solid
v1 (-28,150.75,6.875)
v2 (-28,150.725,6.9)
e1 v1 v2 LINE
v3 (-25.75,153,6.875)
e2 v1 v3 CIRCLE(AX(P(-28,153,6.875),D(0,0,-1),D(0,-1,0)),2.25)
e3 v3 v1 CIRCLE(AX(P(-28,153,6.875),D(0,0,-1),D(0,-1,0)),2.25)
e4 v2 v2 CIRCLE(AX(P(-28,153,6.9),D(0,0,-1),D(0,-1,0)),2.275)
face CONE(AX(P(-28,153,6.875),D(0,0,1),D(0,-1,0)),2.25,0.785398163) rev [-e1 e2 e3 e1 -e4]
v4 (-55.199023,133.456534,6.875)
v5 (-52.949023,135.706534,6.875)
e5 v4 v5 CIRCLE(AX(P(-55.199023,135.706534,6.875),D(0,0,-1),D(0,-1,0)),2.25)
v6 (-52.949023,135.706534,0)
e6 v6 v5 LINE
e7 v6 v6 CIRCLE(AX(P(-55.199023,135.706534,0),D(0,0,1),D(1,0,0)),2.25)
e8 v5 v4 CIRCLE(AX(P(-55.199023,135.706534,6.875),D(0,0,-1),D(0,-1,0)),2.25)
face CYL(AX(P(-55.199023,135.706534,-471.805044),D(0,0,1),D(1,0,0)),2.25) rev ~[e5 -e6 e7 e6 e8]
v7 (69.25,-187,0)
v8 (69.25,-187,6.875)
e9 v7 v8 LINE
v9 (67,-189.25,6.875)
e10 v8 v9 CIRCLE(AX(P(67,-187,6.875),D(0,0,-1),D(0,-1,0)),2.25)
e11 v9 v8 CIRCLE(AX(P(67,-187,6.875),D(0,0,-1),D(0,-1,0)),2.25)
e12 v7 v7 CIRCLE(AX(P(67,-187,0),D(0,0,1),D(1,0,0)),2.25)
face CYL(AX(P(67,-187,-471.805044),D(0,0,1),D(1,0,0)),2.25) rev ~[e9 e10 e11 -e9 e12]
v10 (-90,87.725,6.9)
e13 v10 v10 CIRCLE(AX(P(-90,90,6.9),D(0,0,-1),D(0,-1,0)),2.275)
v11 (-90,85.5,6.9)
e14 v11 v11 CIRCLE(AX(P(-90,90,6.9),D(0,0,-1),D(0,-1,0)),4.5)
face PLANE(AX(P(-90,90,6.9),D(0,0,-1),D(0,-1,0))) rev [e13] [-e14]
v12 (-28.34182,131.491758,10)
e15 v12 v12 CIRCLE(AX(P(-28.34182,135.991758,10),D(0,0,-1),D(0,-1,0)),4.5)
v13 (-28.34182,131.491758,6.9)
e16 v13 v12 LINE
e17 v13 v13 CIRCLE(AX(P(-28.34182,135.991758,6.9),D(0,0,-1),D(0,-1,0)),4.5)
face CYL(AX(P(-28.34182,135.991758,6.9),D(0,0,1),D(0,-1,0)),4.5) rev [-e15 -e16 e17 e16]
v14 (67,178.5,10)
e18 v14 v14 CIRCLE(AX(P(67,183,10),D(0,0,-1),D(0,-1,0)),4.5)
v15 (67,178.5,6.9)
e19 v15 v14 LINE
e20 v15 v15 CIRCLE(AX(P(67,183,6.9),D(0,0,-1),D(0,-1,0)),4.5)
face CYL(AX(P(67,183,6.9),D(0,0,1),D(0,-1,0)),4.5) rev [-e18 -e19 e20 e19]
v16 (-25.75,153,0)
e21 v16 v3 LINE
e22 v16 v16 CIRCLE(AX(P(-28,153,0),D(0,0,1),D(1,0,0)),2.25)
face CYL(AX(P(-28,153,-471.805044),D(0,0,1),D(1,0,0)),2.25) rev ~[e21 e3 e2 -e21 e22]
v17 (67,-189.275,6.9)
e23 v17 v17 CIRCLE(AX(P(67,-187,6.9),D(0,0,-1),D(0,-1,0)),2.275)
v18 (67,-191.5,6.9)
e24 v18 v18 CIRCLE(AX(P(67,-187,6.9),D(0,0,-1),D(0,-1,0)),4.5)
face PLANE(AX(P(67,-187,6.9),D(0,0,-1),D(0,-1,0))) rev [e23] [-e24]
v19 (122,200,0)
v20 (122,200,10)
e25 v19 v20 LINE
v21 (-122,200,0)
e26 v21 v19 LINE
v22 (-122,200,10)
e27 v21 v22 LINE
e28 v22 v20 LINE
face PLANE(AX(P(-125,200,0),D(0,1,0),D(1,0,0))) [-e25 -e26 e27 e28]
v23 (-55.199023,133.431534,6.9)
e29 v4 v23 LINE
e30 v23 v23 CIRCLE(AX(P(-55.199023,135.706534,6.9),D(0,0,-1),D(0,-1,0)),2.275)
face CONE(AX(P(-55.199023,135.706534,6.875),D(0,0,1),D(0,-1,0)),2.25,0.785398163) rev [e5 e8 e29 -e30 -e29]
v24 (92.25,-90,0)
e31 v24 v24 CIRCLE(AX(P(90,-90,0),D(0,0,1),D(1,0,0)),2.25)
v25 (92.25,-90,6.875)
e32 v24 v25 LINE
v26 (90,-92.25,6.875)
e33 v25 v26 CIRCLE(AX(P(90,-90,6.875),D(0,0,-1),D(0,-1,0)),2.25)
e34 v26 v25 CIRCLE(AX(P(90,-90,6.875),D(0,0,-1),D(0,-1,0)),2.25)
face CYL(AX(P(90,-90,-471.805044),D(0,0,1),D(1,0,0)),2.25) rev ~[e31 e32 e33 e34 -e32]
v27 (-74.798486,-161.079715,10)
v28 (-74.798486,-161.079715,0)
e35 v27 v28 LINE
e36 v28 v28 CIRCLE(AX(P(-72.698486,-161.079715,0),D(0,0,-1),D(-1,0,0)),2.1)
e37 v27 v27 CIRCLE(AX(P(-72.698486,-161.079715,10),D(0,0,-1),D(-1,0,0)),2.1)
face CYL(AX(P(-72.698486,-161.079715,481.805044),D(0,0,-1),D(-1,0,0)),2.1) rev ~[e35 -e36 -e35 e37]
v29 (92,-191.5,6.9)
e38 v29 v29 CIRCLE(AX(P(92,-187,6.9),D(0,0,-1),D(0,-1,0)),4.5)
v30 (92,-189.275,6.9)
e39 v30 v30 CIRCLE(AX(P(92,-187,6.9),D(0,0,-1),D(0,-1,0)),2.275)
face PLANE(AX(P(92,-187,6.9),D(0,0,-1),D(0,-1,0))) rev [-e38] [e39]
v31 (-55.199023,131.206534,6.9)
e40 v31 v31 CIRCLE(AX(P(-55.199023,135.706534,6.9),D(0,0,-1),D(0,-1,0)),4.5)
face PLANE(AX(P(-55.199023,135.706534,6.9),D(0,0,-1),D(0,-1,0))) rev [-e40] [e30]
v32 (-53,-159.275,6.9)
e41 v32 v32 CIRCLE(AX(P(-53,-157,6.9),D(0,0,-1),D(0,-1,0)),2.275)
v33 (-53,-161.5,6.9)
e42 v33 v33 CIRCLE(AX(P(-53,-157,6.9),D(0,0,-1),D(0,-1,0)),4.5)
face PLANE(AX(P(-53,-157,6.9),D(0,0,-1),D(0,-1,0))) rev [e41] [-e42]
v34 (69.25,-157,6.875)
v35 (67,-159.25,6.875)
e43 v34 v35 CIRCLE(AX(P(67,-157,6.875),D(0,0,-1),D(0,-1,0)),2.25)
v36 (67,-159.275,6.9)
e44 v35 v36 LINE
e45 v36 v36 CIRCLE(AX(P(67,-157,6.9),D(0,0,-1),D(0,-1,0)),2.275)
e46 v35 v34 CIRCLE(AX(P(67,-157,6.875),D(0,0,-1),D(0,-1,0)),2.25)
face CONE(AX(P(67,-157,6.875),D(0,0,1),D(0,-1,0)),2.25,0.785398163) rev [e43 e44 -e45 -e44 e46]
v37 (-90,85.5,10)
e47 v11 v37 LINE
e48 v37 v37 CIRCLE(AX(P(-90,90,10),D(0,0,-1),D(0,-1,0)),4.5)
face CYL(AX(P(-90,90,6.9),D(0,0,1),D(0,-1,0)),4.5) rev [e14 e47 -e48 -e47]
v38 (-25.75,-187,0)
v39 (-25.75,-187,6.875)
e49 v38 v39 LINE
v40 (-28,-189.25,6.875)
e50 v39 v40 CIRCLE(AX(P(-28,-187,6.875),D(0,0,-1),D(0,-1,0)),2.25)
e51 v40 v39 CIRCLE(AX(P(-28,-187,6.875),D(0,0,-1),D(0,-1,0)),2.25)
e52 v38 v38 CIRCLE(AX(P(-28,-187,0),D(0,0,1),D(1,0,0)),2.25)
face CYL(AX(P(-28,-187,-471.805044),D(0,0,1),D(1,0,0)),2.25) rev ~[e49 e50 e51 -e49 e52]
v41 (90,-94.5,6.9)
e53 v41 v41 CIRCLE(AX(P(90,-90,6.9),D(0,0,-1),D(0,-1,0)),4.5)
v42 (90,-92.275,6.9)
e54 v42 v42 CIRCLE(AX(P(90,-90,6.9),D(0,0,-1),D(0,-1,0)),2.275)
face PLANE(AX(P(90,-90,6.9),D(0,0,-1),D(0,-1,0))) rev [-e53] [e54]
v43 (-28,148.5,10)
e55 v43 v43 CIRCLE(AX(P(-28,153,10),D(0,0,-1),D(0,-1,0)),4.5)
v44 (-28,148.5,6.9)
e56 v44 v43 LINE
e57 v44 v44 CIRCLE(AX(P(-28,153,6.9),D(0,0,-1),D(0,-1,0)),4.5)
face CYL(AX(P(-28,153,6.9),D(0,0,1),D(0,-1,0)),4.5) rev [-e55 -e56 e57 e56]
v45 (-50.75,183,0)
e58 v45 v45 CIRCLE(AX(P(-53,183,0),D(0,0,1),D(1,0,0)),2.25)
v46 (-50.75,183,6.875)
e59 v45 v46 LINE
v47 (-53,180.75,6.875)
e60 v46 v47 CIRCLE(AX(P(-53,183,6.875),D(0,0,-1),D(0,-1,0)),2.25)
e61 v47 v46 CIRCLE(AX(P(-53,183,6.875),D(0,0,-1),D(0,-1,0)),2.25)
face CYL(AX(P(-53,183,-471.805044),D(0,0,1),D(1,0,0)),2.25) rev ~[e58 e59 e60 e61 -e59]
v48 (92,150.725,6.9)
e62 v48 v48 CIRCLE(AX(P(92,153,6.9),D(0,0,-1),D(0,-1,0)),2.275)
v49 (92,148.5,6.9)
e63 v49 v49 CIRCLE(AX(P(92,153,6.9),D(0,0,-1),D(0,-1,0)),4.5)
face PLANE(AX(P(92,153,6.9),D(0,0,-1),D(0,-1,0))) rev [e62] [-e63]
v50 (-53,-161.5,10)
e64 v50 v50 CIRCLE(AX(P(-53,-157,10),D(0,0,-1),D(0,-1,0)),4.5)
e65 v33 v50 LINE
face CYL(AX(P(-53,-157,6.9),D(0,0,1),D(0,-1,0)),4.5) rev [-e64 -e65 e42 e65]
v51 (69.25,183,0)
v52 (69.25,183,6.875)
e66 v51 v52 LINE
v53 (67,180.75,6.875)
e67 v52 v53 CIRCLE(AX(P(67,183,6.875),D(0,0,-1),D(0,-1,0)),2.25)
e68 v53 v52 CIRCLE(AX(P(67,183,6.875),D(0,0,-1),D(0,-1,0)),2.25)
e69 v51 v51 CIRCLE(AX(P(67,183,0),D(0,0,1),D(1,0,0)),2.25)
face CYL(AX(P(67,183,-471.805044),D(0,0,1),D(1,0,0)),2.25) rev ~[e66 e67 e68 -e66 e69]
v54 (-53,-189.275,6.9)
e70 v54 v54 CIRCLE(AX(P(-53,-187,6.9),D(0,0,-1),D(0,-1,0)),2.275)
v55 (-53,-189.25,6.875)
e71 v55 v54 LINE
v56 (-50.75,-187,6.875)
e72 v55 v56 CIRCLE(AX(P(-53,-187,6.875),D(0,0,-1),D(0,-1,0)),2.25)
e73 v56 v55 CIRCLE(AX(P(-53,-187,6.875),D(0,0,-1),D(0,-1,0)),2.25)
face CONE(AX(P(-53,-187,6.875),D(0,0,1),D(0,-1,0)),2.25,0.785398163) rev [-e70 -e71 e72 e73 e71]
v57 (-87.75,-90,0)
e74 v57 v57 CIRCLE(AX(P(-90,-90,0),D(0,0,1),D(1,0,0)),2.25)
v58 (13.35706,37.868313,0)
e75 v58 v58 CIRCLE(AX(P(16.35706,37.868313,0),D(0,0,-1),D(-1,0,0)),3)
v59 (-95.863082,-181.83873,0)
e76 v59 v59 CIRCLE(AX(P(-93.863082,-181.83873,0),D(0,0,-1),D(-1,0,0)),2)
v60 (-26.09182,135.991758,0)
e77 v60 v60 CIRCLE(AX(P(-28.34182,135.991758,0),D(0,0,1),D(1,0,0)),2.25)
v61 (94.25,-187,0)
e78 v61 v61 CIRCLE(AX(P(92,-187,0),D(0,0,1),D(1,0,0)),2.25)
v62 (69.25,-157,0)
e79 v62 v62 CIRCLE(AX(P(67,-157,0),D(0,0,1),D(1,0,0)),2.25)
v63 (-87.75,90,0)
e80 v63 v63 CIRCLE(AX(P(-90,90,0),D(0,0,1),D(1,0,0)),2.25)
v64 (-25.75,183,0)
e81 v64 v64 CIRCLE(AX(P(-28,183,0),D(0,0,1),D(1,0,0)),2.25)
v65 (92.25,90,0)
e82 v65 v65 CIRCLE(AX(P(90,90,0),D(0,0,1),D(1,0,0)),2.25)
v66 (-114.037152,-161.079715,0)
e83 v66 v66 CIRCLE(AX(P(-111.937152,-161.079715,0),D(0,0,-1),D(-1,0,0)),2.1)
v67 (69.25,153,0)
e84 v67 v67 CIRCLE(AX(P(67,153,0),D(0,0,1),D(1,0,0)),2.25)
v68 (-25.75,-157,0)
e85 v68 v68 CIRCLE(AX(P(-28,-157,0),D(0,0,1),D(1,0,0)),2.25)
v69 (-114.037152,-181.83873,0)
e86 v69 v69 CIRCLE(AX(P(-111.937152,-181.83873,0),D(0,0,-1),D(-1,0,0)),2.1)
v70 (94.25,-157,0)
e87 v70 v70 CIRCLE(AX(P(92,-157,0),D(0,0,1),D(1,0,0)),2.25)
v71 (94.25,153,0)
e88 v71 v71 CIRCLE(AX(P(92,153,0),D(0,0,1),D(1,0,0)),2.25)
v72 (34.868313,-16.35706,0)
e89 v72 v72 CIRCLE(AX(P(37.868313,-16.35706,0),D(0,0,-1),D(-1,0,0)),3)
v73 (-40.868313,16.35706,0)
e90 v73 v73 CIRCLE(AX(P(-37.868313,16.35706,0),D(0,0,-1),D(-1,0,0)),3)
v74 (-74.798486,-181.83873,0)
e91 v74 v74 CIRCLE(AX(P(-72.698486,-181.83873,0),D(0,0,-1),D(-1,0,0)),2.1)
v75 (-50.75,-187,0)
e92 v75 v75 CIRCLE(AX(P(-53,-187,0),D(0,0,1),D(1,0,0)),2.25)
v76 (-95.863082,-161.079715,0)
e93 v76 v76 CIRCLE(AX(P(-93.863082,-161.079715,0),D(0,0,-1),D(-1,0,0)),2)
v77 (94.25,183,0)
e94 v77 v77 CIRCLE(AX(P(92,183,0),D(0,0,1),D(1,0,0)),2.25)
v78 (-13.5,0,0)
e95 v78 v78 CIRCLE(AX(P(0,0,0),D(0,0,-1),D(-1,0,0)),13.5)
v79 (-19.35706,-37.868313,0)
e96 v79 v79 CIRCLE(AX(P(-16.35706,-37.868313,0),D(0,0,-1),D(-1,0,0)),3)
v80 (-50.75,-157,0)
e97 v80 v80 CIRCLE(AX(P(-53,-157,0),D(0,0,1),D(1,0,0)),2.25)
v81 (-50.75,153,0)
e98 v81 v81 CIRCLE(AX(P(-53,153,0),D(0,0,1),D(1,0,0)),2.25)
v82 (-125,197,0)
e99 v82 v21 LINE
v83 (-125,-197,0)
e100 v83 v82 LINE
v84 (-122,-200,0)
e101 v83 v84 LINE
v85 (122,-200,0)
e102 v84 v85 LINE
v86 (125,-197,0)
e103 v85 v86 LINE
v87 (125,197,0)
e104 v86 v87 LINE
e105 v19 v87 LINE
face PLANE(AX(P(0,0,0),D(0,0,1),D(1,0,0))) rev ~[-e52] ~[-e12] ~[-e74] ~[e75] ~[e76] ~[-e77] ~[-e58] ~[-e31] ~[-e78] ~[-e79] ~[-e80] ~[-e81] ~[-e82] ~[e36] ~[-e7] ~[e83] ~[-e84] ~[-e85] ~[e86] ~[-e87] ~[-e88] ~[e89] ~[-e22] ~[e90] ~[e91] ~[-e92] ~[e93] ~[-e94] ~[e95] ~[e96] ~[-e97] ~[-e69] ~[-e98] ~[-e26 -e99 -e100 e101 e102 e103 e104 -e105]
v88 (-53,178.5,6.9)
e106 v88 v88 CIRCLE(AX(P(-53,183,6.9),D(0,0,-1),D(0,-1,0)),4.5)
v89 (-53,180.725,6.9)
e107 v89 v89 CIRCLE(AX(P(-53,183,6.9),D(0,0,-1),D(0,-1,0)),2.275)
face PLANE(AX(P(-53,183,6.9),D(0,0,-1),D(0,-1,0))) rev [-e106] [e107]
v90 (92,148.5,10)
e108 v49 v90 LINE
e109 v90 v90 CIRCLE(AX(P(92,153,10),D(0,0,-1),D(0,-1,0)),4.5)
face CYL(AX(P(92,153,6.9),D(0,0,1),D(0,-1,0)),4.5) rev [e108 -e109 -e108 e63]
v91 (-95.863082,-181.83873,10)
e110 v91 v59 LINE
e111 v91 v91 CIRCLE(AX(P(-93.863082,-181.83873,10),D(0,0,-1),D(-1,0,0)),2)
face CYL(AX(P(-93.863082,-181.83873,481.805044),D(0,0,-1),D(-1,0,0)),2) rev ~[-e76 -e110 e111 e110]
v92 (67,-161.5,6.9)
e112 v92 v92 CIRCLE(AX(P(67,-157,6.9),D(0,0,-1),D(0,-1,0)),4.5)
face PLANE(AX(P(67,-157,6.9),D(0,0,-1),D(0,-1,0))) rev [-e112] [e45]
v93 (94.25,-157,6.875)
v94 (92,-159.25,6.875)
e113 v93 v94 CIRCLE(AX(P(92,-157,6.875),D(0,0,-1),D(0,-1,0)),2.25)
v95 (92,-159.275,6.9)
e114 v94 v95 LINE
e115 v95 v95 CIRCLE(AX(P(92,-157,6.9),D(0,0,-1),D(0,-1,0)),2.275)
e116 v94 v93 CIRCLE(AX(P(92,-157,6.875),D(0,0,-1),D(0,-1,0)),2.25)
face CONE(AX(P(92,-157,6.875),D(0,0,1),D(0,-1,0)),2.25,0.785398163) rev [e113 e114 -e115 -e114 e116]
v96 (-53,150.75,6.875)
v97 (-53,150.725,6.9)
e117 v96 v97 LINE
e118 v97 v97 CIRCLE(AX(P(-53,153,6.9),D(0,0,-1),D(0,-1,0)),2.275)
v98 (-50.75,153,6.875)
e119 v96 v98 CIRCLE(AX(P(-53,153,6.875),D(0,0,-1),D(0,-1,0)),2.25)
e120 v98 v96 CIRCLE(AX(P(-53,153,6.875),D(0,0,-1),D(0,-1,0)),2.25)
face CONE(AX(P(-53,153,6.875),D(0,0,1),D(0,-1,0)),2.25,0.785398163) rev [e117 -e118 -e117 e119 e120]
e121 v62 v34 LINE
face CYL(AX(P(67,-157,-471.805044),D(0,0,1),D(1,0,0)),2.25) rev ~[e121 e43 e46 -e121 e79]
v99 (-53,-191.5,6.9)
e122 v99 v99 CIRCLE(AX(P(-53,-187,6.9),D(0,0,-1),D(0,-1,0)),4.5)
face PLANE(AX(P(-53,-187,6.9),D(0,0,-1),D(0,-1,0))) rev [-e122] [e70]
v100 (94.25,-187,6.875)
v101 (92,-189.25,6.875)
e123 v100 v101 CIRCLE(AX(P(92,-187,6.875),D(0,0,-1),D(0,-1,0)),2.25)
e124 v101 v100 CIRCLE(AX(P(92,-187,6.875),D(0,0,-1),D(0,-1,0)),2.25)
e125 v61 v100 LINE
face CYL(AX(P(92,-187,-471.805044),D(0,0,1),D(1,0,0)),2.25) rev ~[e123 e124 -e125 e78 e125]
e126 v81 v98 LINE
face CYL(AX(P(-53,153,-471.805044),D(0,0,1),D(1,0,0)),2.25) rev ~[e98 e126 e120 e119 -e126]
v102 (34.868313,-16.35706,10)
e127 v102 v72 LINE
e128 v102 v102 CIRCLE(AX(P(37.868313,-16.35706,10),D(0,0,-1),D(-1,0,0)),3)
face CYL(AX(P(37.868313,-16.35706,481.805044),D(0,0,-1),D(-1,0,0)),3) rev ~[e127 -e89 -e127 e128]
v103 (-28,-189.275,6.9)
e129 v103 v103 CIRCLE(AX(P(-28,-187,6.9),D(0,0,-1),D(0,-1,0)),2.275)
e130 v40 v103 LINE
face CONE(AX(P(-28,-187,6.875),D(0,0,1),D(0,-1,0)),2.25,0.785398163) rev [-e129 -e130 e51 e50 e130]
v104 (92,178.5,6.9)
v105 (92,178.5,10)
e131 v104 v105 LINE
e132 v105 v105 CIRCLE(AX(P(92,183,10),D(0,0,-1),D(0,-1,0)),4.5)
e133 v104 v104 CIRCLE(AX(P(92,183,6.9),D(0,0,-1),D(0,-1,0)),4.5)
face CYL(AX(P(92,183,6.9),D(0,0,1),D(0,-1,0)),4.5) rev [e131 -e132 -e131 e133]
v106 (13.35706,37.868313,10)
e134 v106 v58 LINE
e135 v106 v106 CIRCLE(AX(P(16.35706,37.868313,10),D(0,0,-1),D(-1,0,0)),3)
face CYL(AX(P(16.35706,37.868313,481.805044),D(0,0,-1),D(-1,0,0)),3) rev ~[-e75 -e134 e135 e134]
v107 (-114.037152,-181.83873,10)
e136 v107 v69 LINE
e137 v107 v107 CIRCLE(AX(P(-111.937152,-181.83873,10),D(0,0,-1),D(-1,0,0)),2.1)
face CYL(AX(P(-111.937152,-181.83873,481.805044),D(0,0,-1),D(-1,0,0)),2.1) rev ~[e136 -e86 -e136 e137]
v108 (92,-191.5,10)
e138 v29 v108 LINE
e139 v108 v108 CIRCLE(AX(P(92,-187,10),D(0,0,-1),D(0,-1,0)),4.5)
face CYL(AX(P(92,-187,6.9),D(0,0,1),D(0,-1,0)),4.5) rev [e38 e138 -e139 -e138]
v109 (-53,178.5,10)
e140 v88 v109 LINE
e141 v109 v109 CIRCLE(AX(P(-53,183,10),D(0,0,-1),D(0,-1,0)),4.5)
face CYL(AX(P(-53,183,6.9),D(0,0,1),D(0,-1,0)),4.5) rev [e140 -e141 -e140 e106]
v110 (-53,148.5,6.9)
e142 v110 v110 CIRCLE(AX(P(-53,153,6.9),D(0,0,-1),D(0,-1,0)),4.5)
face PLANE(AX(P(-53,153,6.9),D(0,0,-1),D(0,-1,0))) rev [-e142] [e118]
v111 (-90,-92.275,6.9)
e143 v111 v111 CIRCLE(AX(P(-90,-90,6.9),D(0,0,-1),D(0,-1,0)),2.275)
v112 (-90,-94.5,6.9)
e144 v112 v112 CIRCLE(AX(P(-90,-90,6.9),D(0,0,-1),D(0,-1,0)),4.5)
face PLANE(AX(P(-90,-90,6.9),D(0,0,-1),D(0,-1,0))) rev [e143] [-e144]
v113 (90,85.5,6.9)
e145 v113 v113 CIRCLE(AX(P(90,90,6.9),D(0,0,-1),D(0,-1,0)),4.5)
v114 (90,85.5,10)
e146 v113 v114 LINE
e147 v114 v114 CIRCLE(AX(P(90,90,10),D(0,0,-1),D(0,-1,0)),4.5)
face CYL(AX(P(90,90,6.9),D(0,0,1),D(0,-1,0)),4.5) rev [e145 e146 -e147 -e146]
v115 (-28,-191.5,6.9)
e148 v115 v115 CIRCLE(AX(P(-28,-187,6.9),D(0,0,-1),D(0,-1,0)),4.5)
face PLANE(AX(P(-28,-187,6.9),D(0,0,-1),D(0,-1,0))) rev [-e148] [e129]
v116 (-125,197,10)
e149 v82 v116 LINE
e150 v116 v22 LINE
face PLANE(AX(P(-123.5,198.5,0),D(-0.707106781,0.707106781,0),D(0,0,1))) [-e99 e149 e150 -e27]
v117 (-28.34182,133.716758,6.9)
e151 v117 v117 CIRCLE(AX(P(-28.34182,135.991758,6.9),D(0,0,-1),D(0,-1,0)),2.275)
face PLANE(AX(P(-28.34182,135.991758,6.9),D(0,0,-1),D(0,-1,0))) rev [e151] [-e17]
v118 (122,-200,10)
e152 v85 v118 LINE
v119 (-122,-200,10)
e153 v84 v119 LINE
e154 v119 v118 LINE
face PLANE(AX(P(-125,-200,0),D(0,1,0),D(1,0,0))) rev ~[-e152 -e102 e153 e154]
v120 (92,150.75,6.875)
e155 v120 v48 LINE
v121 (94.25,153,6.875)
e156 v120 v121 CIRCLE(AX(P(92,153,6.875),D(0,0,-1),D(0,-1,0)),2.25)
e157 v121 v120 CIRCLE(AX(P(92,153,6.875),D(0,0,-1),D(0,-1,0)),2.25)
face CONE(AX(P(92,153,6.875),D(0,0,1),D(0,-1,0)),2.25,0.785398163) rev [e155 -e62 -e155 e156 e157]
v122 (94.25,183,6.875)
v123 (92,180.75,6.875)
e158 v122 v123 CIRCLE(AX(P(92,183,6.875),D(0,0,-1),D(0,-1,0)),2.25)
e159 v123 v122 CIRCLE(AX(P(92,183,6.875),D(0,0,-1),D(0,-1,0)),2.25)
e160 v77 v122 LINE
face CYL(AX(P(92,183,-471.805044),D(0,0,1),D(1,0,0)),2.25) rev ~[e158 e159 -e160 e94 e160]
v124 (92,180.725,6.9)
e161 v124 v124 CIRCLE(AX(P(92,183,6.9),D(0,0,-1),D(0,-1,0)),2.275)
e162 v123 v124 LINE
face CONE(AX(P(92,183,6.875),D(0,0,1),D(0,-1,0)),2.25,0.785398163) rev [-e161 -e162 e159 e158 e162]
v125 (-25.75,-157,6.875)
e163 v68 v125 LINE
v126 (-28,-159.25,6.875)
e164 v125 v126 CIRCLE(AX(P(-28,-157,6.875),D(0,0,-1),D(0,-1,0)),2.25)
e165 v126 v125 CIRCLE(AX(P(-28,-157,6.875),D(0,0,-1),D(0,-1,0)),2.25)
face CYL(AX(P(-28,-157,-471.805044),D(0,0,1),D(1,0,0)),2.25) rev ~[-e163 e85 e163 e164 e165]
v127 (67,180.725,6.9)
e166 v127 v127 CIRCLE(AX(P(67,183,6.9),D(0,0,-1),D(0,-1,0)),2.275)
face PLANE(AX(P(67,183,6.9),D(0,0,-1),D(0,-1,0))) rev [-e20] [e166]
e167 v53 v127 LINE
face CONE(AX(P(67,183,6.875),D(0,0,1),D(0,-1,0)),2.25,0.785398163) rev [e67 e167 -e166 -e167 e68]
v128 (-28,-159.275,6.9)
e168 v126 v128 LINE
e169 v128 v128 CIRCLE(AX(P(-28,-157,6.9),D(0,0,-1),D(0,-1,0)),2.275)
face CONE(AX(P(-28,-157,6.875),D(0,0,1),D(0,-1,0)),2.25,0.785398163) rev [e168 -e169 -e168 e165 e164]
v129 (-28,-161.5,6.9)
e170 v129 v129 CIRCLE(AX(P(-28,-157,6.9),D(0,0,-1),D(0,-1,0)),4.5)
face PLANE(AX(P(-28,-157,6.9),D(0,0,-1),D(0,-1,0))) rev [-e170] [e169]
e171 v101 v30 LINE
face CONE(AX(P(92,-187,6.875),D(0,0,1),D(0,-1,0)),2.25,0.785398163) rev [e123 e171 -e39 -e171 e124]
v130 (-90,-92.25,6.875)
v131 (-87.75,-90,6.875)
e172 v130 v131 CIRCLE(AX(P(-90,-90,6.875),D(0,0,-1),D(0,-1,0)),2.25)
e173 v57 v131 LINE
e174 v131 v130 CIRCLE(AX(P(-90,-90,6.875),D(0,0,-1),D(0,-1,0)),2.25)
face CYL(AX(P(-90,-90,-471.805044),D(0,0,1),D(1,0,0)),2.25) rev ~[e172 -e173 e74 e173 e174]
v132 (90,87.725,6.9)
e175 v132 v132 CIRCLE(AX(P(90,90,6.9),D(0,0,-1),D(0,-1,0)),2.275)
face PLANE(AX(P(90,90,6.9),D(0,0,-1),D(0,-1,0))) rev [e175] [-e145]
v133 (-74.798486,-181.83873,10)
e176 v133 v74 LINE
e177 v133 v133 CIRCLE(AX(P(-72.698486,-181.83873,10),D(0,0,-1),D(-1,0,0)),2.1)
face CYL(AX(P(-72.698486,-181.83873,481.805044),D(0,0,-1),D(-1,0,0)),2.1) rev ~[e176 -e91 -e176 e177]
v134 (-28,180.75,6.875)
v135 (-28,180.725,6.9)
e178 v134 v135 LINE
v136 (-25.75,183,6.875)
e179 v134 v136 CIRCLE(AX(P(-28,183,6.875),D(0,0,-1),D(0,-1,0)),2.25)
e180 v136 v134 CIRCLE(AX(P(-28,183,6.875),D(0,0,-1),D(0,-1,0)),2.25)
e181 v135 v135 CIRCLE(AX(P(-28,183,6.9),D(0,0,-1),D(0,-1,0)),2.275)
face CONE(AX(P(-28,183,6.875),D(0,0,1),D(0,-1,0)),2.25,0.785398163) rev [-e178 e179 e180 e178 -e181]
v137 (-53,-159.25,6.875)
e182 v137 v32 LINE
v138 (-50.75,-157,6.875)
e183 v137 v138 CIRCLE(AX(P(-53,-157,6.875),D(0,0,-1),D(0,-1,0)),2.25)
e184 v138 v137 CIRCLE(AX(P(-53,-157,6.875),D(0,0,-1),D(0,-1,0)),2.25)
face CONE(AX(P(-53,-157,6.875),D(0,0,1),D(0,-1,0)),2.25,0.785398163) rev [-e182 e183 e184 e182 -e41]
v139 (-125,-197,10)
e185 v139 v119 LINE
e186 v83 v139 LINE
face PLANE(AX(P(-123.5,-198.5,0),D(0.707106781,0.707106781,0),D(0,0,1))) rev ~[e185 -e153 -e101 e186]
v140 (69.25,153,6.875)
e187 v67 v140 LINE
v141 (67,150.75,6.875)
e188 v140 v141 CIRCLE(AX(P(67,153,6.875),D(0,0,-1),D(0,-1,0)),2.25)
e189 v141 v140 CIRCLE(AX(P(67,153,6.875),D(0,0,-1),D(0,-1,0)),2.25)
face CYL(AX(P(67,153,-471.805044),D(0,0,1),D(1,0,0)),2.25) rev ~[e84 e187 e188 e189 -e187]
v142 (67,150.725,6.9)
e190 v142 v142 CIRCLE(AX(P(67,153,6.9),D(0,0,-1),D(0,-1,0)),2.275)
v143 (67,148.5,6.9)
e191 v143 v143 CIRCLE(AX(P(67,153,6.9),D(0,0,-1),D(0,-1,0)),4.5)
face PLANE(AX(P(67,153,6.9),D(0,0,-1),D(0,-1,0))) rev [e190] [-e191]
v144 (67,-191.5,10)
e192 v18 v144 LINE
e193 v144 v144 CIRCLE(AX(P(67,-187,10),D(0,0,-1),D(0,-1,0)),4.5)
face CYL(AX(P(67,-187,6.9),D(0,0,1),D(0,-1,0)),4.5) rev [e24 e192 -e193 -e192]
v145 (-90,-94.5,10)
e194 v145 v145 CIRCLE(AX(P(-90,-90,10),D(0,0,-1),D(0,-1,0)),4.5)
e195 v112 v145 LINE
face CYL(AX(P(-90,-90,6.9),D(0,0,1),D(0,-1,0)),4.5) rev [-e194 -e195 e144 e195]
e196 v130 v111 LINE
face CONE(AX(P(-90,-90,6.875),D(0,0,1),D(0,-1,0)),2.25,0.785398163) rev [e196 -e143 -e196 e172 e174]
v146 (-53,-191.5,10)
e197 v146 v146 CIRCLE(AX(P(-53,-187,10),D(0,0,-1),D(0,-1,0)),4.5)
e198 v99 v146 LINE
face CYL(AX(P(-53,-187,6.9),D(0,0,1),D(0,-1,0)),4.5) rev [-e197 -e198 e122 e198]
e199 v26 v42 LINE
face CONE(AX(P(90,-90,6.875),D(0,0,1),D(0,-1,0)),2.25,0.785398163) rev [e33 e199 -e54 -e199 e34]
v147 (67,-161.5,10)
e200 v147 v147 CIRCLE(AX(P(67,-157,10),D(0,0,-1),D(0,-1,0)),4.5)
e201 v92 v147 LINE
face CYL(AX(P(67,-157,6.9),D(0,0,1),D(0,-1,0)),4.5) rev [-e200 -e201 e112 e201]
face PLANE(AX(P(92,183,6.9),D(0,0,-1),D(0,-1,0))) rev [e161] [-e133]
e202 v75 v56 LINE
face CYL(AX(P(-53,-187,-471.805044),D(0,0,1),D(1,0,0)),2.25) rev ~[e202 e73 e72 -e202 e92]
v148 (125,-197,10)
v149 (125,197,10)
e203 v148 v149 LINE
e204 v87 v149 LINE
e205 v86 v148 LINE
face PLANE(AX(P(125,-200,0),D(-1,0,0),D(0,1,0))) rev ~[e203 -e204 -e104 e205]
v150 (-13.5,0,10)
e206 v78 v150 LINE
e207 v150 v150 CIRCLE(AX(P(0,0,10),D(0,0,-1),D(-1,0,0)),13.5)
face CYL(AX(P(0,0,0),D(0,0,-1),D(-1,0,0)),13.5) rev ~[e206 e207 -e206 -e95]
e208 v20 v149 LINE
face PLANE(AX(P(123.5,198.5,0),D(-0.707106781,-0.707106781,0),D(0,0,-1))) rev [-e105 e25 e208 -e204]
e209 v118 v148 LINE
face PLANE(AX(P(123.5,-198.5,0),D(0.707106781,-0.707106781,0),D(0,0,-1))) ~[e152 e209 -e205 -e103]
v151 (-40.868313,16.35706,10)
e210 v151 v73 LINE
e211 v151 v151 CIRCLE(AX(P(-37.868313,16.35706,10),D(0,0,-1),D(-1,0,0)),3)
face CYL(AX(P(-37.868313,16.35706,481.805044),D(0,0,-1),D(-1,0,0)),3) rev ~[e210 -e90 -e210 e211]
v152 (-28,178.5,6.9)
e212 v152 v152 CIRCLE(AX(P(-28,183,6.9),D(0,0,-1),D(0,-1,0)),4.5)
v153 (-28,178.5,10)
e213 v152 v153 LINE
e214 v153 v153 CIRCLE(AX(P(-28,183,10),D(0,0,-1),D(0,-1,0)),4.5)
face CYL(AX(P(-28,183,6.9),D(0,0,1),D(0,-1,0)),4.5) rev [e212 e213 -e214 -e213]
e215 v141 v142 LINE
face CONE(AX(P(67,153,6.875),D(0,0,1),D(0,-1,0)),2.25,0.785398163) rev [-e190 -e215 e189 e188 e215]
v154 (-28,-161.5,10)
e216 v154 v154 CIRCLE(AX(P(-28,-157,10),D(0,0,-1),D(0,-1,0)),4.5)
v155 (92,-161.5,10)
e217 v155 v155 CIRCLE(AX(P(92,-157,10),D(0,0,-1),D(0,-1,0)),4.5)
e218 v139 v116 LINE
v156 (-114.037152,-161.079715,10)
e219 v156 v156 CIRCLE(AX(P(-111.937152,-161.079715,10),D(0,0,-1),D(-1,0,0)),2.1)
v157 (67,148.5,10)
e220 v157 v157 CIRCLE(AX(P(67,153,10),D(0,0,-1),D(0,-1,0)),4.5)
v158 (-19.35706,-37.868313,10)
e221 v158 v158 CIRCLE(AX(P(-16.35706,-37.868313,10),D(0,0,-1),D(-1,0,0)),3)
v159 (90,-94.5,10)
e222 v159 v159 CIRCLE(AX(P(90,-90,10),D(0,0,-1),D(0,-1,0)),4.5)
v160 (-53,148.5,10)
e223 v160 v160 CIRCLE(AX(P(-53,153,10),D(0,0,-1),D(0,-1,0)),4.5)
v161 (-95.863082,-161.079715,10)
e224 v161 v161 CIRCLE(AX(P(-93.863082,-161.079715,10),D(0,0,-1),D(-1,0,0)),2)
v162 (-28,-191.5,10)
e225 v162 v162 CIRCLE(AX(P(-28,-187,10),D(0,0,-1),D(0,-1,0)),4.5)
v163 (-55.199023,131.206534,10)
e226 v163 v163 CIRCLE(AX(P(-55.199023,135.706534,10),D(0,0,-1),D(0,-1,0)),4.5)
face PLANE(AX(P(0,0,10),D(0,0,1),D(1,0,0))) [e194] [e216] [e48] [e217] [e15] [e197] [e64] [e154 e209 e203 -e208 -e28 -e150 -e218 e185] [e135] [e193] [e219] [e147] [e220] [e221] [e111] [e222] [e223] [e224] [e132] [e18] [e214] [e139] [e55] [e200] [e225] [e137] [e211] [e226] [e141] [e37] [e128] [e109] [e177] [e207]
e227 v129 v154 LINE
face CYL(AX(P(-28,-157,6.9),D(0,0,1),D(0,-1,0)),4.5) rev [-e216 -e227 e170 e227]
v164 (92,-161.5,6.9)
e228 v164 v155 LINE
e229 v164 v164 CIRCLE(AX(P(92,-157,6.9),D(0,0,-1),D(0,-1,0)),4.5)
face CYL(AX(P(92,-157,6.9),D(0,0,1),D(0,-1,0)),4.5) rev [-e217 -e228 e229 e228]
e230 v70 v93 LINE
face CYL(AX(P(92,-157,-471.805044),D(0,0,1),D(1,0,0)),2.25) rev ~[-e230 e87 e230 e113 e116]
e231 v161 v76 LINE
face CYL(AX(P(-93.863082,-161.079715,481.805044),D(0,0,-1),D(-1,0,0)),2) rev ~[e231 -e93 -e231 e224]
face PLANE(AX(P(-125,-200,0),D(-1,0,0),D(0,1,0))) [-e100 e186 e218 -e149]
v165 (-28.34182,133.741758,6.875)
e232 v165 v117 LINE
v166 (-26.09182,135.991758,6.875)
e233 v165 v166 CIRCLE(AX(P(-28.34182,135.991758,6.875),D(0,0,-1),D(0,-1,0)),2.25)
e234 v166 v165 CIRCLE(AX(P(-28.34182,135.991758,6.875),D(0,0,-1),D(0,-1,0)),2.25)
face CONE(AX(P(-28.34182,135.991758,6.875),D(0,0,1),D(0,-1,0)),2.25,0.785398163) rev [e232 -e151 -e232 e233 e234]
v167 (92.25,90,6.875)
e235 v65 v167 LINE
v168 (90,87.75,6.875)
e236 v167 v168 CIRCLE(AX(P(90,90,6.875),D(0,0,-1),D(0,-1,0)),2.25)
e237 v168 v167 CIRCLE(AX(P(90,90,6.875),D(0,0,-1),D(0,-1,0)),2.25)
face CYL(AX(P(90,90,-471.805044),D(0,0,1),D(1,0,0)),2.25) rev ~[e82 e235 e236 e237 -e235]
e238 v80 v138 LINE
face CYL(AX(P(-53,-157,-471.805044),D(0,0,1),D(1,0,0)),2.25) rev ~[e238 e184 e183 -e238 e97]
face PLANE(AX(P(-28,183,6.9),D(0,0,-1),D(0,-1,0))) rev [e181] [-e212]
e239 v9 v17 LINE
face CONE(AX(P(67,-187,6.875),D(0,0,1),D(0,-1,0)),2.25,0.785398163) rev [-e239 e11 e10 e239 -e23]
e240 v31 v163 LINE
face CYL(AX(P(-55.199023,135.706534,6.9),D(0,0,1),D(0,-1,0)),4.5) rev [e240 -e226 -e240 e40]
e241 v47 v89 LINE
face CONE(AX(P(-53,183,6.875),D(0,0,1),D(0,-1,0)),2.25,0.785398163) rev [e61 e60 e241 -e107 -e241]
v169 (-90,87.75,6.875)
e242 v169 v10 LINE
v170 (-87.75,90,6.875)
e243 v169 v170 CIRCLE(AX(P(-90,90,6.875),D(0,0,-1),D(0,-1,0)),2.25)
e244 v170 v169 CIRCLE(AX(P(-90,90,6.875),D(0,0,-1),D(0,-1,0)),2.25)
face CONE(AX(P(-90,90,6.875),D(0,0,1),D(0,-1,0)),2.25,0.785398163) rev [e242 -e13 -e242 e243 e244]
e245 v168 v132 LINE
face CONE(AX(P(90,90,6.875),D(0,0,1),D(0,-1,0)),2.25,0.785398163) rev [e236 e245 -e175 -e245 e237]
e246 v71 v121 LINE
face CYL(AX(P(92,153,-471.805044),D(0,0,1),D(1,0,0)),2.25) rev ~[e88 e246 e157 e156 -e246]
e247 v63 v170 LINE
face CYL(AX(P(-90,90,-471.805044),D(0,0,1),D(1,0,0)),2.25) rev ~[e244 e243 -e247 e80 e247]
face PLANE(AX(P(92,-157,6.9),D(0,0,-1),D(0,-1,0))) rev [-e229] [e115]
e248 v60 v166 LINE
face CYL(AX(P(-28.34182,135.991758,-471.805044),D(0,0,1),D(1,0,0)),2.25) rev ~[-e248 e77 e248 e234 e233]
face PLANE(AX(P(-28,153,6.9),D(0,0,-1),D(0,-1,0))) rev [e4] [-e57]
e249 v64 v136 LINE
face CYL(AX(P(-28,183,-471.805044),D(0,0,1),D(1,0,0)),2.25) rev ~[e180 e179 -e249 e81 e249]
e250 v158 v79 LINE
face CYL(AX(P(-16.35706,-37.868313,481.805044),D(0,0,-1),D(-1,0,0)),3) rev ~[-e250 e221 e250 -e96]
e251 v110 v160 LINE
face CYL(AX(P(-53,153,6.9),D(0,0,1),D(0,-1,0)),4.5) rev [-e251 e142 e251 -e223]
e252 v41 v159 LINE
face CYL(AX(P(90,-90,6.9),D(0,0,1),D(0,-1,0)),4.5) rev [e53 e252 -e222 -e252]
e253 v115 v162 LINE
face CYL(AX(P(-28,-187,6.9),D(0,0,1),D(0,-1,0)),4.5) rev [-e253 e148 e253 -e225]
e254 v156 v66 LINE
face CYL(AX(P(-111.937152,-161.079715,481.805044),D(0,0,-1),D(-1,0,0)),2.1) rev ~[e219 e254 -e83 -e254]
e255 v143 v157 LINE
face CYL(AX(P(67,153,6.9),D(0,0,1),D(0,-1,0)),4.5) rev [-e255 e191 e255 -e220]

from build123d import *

# Parameters (mm, degrees)
ESQUISSE1_W                                  = 250
ESQUISSE1_H                                  = 400
BOSS_EXTRU_1_DEPTH                           = 10
ESQUISSE2_R                                  = 13.5
ENL_V_MAT_EXTRU_1_DEPTH                      = 237.061432682
CHANFREIN1_SIZE                              = 3
TROU_TARAUD_M51_D                            = 4.2
TROUS_DE_CENTRAGE_4_0MM2_D                   = 4
TROUS_DE_CENTRAGE_6_0MM2_D                   = 6
D_GAGEMENT_M41_D                             = 4.5
R_P_TITION_LIN_AIRE1_COUNT                   = 2
R_P_TITION_LIN_AIRE1_PITCH                   = 120
R_P_TITION_LIN_AIRE1_COUNT_DIR2              = 2
R_P_TITION_LIN_AIRE1_PITCH_DIR2              = 340
R_P_TITION_LIN_AIRE2_COUNT                   = 2
R_P_TITION_LIN_AIRE2_PITCH                   = 30
R_P_TITION_LIN_AIRE2_COUNT_DIR2              = 2
R_P_TITION_LIN_AIRE2_PITCH_DIR2              = 25
R_P_TITION_LIN_AIRE3_COUNT                   = 2
R_P_TITION_LIN_AIRE3_PITCH                   = 120
R_P_TITION_LIN_AIRE3_COUNT_DIR2              = 2
R_P_TITION_LIN_AIRE3_PITCH_DIR2              = 340
D_GAGEMENT_M42_D                             = 4.5
CHAMBRAGE_POUR_VIS_T_TE_RONDE_BOMB_2_A_COUNT = 2
CHAMBRAGE_POUR_VIS_T_TE_RONDE_BOMB_2_A_PITCH = 180
CHAMBRAGE_POUR_VIS_T_TE_RONDE_BOMB_3_COUNT   = 2
CHAMBRAGE_POUR_VIS_T_TE_RONDE_BOMB_3_PITCH   = 180
CHAMBRAGE_POUR_VIS_T_TE_RONDE_BOMB_4_COUNT   = 2
CHAMBRAGE_POUR_VIS_T_TE_RONDE_BOMB_4_PITCH   = 254.558441227
D_GAGEMENT_M43_D                             = 4.5
CHAMBRAGE_POUR_VIS_T_TE_RONDE_BOMB_5_A_COUNT = 2
CHAMBRAGE_POUR_VIS_T_TE_RONDE_BOMB_5_A_PITCH = 26.858717456


with BuildPart() as part:
    # Esquisse1 → Boss.-Extru.1 (new body)
    with BuildSketch(Plane.XY):
        Rectangle(ESQUISSE1_W, ESQUISSE1_H)
    extrude(amount=BOSS_EXTRU_1_DEPTH)

    # Esquisse2 → Enlèv. mat.-Extru.1 (cut, through all)
    with BuildSketch(Plane(origin=(0, 0, 0), x_dir=(-1, 0, 0), z_dir=(0, 0, -1))):
        Circle(ESQUISSE2_R)
    extrude(amount=-ENL_V_MAT_EXTRU_1_DEPTH, mode=Mode.SUBTRACT)

    # Chanfrein1
    chanfrein1_edges = [part.edges().sort_by_distance(p)[0] for p in [
        (125, -200, 5),
        (-125, -200, 5),
        (-125, 200, 5),
        (125, 200, 5),
    ]]
    chamfer(chanfrein1_edges, length=CHANFREIN1_SIZE)

    # Trou taraudé M51 (through all)
    with Locations(Plane.XY.offset(10)):
        with Locations((-72.698486264, -161.07971462), (-72.698486264, -181.838730229), (-111.937151978, -181.838730229), (-111.937151978, -161.07971462)):
            Hole(TROU_TARAUD_M51_D / 2)

    # Trous de centrage Ø4.0mm2 (through all)
    with Locations(Plane.XY.offset(10)):
        with Locations((-93.86308218, -161.07971462), (-93.86308218, -181.838730229)):
            Hole(TROUS_DE_CENTRAGE_4_0MM2_D / 2)

    # Trous de centrage Ø6.0mm2 (through all)
    with Locations(Plane.XY.offset(10)):
        with Locations((16.357059687, 37.86831259), (37.86831259, -16.357059687), (-16.357059687, -37.86831259), (-37.86831259, 16.357059687)):
            Hole(TROUS_DE_CENTRAGE_6_0MM2_D / 2)

    # Dégagement M41 (through all)
    with Locations(Plane(origin=(0, 0, 0), x_dir=(-1, 0, 0), z_dir=(0, 0, -1))):
        with Locations((28, -187), (28, -157), (53, -157), (53, -187)):
            d_gagement_m41 = Hole(D_GAGEMENT_M41_D / 2)

    # Répétition linéaire1: D_gagement M41 2 × 2
    with Locations(*[(i * R_P_TITION_LIN_AIRE1_PITCH, j * R_P_TITION_LIN_AIRE1_PITCH_DIR2, 0) for i in range(R_P_TITION_LIN_AIRE1_COUNT) for j in range(R_P_TITION_LIN_AIRE1_COUNT_DIR2) if (i, j) != (0, 0)]):
        add(d_gagement_m41, mode=Mode.SUBTRACT)

    # Esquisse29 → Chambrage pour vis _ t_te ronde bomb_e M (revolve, cut)
    with BuildSketch(Plane(origin=(92, -157, 10), x_dir=(0, -1, 0), z_dir=(1, 0, 0))):
        Polygon((0, 0), (0, 10), (2.25, 10), (2.25, 3.125), (2.275, 3.1), (4.5, 3.1), (4.5, 0), align=None)
    chambrage_pour_vis_t_te_ronde_bomb_e_m = revolve(axis=Axis((92, -157, 16.35), (0, 0, -1)), mode=Mode.SUBTRACT)

    # Répétition linéaire2: Chambrage pour vis _ t_te ronde bomb_e M 2 × 2
    with Locations(*[(-j * R_P_TITION_LIN_AIRE2_PITCH_DIR2, -i * R_P_TITION_LIN_AIRE2_PITCH, 0) for i in range(R_P_TITION_LIN_AIRE2_COUNT) for j in range(R_P_TITION_LIN_AIRE2_COUNT_DIR2) if (i, j) != (0, 0)]):
        add(chambrage_pour_vis_t_te_ronde_bomb_e_m, mode=Mode.SUBTRACT)

    # Répétition linéaire3: Chambrage pour vis _ t_te ronde bomb_e M 2 × 2
    with Locations(*[(-i * R_P_TITION_LIN_AIRE3_PITCH, j * R_P_TITION_LIN_AIRE3_PITCH_DIR2, 0) for i in range(R_P_TITION_LIN_AIRE3_COUNT) for j in range(R_P_TITION_LIN_AIRE3_COUNT_DIR2) if (i, j) != (0, 0)]):
        add(chambrage_pour_vis_t_te_ronde_bomb_e_m, mode=Mode.SUBTRACT)

    # Répétition linéaire3 copy 1 sketch → Répétition linéaire3 copy 1 (revolve, cut)
    with BuildSketch(Plane(origin=(67, 183, 10), x_dir=(0, -1, 0), z_dir=(1, 0, 0))):
        Polygon((0, 0), (0, 10), (2.25, 10), (2.25, 3.125), (2.275, 3.1), (4.5, 3.1), (4.5, 0), align=None)
    revolve(axis=Axis((67, 183, 16.35), (0, 0, -1)), mode=Mode.SUBTRACT)

    # Répétition linéaire3 copy 2 sketch → Répétition linéaire3 copy 2 (revolve, cut)
    with BuildSketch(Plane(origin=(-53, -157, 10), x_dir=(0, -1, 0), z_dir=(1, 0, 0))):
        Polygon((0, 0), (0, 10), (2.25, 10), (2.25, 3.125), (2.275, 3.1), (4.5, 3.1), (4.5, 0), align=None)
    revolve(axis=Axis((-53, -157, 16.35), (0, 0, -1)), mode=Mode.SUBTRACT)

    # Répétition linéaire3 copy 3 sketch → Répétition linéaire3 copy 3 (revolve, cut)
    with BuildSketch(Plane(origin=(-53, 183, 10), x_dir=(0, -1, 0), z_dir=(1, 0, 0))):
        Polygon((0, 0), (0, 10), (2.25, 10), (2.25, 3.125), (2.275, 3.1), (4.5, 3.1), (4.5, 0), align=None)
    revolve(axis=Axis((-53, 183, 16.35), (0, 0, -1)), mode=Mode.SUBTRACT)

    # Répétition linéaire3 copy 4 sketch → Répétition linéaire3 copy 4 (revolve, cut)
    with BuildSketch(Plane(origin=(92, 153, 10), x_dir=(0, -1, 0), z_dir=(1, 0, 0))):
        Polygon((0, 0), (0, 10), (2.25, 10), (2.25, 3.125), (2.275, 3.1), (4.5, 3.1), (4.5, 0), align=None)
    revolve(axis=Axis((92, 153, 16.35), (0, 0, -1)), mode=Mode.SUBTRACT)

    # Répétition linéaire3 copy 5 sketch → Répétition linéaire3 copy 5 (revolve, cut)
    with BuildSketch(Plane(origin=(-28, -187, 10), x_dir=(0, -1, 0), z_dir=(1, 0, 0))):
        Polygon((0, 0), (0, 10), (2.25, 10), (2.25, 3.125), (2.275, 3.1), (4.5, 3.1), (4.5, 0), align=None)
    revolve(axis=Axis((-28, -187, 16.35), (0, 0, -1)), mode=Mode.SUBTRACT)

    # Répétition linéaire3 copy 6 sketch → Répétition linéaire3 copy 6 (revolve, cut)
    with BuildSketch(Plane(origin=(-28, 153, 10), x_dir=(0, -1, 0), z_dir=(1, 0, 0))):
        Polygon((0, 0), (0, 10), (2.25, 10), (2.25, 3.125), (2.275, 3.1), (4.5, 3.1), (4.5, 0), align=None)
    revolve(axis=Axis((-28, 153, 16.35), (0, 0, -1)), mode=Mode.SUBTRACT)

    # Répétition linéaire3 copy 7 sketch → Répétition linéaire3 copy 7 (revolve, cut)
    with BuildSketch(Plane(origin=(67, 153, 10), x_dir=(0, -1, 0), z_dir=(1, 0, 0))):
        Polygon((0, 0), (0, 10), (2.25, 10), (2.25, 3.125), (2.275, 3.1), (4.5, 3.1), (4.5, 0), align=None)
    revolve(axis=Axis((67, 153, 16.35), (0, 0, -1)), mode=Mode.SUBTRACT)

    # Répétition linéaire3 copy 8 sketch → Répétition linéaire3 copy 8 (revolve, cut)
    with BuildSketch(Plane(origin=(-53, -187, 10), x_dir=(0, -1, 0), z_dir=(1, 0, 0))):
        Polygon((0, 0), (0, 10), (2.25, 10), (2.25, 3.125), (2.275, 3.1), (4.5, 3.1), (4.5, 0), align=None)
    revolve(axis=Axis((-53, -187, 16.35), (0, 0, -1)), mode=Mode.SUBTRACT)

    # Répétition linéaire3 copy 9 sketch → Répétition linéaire3 copy 9 (revolve, cut)
    with BuildSketch(Plane(origin=(-53, 153, 10), x_dir=(0, -1, 0), z_dir=(1, 0, 0))):
        Polygon((0, 0), (0, 10), (2.25, 10), (2.25, 3.125), (2.275, 3.1), (4.5, 3.1), (4.5, 0), align=None)
    revolve(axis=Axis((-53, 153, 16.35), (0, 0, -1)), mode=Mode.SUBTRACT)

    # Dégagement M42 (through all)
    with Locations(Plane(origin=(0, 0, 0), x_dir=(-1, 0, 0), z_dir=(0, 0, -1))):
        with Locations((90, -90), (90, 90), (-90, 90), (-90, -90)):
            Hole(D_GAGEMENT_M42_D / 2)

    # Esquisse33 → Chambrage pour vis _ t_te ronde bomb 2 (revolve, cut)
    with BuildSketch(Plane(origin=(-90, -90, 10), x_dir=(0, -1, 0), z_dir=(1, 0, 0))):
        Polygon((0, 0), (0, 10), (2.25, 10), (2.25, 3.125), (2.275, 3.1), (4.5, 3.1), (4.5, 0), align=None)
    chambrage_pour_vis_t_te_ronde_bomb_2 = revolve(axis=Axis((-90, -90, 16.35), (0, 0, -1)), mode=Mode.SUBTRACT)

    # Chambrage pour vis _ t_te ronde bomb 2 a: Chambrage pour vis _ t_te ronde bomb 2 ×2
    with Locations(*[(0, i * CHAMBRAGE_POUR_VIS_T_TE_RONDE_BOMB_2_A_PITCH, 0) for i in range(1, CHAMBRAGE_POUR_VIS_T_TE_RONDE_BOMB_2_A_COUNT)]):
        add(chambrage_pour_vis_t_te_ronde_bomb_2, mode=Mode.SUBTRACT)

    # Chambrage pour vis _ t_te ronde bomb 3: Chambrage pour vis _ t_te ronde bomb 2 ×2
    with Locations(*[(i * CHAMBRAGE_POUR_VIS_T_TE_RONDE_BOMB_3_PITCH, 0, 0) for i in range(1, CHAMBRAGE_POUR_VIS_T_TE_RONDE_BOMB_3_COUNT)]):
        add(chambrage_pour_vis_t_te_ronde_bomb_2, mode=Mode.SUBTRACT)

    # Chambrage pour vis _ t_te ronde bomb 4: Chambrage pour vis _ t_te ronde bomb 2 ×2
    with Locations(*[Vector(0.7071067811864814, 0.7071067811866137, 0) * (i * CHAMBRAGE_POUR_VIS_T_TE_RONDE_BOMB_4_PITCH) for i in range(1, CHAMBRAGE_POUR_VIS_T_TE_RONDE_BOMB_4_COUNT)]):
        add(chambrage_pour_vis_t_te_ronde_bomb_2, mode=Mode.SUBTRACT)

    # Dégagement M43 (through all)
    with Locations(Plane(origin=(0, 0, 0), x_dir=(-1, 0, 0), z_dir=(0, 0, -1))):
        with Locations((55.199022773, 135.70653433), (28.341819814, 135.991758108)):
            Hole(D_GAGEMENT_M43_D / 2)

    # Esquisse37 → Chambrage pour vis _ t_te ronde bomb 5 (revolve, cut)
    with BuildSketch(Plane(origin=(-55.199022773, 135.70653433, 10), x_dir=(0, -1, 0), z_dir=(1, 0, 0))):
        Polygon((0, 0), (0, 10), (2.25, 10), (2.25, 3.125), (2.275, 3.1), (4.5, 3.1), (4.5, 0), align=None)
    chambrage_pour_vis_t_te_ronde_bomb_5 = revolve(axis=Axis((-55.199022773, 135.70653433, 16.35), (0, 0, -1)), mode=Mode.SUBTRACT)

    # Chambrage pour vis _ t_te ronde bomb 5 a: Chambrage pour vis _ t_te ronde bomb 5 ×2
    with Locations(*[Vector(0.9999436124580966, 0.010619411671655749, 0) * (i * CHAMBRAGE_POUR_VIS_T_TE_RONDE_BOMB_5_A_PITCH) for i in range(1, CHAMBRAGE_POUR_VIS_T_TE_RONDE_BOMB_5_A_COUNT)]):
        add(chambrage_pour_vis_t_te_ronde_bomb_5, mode=Mode.SUBTRACT)


solid = part.part
